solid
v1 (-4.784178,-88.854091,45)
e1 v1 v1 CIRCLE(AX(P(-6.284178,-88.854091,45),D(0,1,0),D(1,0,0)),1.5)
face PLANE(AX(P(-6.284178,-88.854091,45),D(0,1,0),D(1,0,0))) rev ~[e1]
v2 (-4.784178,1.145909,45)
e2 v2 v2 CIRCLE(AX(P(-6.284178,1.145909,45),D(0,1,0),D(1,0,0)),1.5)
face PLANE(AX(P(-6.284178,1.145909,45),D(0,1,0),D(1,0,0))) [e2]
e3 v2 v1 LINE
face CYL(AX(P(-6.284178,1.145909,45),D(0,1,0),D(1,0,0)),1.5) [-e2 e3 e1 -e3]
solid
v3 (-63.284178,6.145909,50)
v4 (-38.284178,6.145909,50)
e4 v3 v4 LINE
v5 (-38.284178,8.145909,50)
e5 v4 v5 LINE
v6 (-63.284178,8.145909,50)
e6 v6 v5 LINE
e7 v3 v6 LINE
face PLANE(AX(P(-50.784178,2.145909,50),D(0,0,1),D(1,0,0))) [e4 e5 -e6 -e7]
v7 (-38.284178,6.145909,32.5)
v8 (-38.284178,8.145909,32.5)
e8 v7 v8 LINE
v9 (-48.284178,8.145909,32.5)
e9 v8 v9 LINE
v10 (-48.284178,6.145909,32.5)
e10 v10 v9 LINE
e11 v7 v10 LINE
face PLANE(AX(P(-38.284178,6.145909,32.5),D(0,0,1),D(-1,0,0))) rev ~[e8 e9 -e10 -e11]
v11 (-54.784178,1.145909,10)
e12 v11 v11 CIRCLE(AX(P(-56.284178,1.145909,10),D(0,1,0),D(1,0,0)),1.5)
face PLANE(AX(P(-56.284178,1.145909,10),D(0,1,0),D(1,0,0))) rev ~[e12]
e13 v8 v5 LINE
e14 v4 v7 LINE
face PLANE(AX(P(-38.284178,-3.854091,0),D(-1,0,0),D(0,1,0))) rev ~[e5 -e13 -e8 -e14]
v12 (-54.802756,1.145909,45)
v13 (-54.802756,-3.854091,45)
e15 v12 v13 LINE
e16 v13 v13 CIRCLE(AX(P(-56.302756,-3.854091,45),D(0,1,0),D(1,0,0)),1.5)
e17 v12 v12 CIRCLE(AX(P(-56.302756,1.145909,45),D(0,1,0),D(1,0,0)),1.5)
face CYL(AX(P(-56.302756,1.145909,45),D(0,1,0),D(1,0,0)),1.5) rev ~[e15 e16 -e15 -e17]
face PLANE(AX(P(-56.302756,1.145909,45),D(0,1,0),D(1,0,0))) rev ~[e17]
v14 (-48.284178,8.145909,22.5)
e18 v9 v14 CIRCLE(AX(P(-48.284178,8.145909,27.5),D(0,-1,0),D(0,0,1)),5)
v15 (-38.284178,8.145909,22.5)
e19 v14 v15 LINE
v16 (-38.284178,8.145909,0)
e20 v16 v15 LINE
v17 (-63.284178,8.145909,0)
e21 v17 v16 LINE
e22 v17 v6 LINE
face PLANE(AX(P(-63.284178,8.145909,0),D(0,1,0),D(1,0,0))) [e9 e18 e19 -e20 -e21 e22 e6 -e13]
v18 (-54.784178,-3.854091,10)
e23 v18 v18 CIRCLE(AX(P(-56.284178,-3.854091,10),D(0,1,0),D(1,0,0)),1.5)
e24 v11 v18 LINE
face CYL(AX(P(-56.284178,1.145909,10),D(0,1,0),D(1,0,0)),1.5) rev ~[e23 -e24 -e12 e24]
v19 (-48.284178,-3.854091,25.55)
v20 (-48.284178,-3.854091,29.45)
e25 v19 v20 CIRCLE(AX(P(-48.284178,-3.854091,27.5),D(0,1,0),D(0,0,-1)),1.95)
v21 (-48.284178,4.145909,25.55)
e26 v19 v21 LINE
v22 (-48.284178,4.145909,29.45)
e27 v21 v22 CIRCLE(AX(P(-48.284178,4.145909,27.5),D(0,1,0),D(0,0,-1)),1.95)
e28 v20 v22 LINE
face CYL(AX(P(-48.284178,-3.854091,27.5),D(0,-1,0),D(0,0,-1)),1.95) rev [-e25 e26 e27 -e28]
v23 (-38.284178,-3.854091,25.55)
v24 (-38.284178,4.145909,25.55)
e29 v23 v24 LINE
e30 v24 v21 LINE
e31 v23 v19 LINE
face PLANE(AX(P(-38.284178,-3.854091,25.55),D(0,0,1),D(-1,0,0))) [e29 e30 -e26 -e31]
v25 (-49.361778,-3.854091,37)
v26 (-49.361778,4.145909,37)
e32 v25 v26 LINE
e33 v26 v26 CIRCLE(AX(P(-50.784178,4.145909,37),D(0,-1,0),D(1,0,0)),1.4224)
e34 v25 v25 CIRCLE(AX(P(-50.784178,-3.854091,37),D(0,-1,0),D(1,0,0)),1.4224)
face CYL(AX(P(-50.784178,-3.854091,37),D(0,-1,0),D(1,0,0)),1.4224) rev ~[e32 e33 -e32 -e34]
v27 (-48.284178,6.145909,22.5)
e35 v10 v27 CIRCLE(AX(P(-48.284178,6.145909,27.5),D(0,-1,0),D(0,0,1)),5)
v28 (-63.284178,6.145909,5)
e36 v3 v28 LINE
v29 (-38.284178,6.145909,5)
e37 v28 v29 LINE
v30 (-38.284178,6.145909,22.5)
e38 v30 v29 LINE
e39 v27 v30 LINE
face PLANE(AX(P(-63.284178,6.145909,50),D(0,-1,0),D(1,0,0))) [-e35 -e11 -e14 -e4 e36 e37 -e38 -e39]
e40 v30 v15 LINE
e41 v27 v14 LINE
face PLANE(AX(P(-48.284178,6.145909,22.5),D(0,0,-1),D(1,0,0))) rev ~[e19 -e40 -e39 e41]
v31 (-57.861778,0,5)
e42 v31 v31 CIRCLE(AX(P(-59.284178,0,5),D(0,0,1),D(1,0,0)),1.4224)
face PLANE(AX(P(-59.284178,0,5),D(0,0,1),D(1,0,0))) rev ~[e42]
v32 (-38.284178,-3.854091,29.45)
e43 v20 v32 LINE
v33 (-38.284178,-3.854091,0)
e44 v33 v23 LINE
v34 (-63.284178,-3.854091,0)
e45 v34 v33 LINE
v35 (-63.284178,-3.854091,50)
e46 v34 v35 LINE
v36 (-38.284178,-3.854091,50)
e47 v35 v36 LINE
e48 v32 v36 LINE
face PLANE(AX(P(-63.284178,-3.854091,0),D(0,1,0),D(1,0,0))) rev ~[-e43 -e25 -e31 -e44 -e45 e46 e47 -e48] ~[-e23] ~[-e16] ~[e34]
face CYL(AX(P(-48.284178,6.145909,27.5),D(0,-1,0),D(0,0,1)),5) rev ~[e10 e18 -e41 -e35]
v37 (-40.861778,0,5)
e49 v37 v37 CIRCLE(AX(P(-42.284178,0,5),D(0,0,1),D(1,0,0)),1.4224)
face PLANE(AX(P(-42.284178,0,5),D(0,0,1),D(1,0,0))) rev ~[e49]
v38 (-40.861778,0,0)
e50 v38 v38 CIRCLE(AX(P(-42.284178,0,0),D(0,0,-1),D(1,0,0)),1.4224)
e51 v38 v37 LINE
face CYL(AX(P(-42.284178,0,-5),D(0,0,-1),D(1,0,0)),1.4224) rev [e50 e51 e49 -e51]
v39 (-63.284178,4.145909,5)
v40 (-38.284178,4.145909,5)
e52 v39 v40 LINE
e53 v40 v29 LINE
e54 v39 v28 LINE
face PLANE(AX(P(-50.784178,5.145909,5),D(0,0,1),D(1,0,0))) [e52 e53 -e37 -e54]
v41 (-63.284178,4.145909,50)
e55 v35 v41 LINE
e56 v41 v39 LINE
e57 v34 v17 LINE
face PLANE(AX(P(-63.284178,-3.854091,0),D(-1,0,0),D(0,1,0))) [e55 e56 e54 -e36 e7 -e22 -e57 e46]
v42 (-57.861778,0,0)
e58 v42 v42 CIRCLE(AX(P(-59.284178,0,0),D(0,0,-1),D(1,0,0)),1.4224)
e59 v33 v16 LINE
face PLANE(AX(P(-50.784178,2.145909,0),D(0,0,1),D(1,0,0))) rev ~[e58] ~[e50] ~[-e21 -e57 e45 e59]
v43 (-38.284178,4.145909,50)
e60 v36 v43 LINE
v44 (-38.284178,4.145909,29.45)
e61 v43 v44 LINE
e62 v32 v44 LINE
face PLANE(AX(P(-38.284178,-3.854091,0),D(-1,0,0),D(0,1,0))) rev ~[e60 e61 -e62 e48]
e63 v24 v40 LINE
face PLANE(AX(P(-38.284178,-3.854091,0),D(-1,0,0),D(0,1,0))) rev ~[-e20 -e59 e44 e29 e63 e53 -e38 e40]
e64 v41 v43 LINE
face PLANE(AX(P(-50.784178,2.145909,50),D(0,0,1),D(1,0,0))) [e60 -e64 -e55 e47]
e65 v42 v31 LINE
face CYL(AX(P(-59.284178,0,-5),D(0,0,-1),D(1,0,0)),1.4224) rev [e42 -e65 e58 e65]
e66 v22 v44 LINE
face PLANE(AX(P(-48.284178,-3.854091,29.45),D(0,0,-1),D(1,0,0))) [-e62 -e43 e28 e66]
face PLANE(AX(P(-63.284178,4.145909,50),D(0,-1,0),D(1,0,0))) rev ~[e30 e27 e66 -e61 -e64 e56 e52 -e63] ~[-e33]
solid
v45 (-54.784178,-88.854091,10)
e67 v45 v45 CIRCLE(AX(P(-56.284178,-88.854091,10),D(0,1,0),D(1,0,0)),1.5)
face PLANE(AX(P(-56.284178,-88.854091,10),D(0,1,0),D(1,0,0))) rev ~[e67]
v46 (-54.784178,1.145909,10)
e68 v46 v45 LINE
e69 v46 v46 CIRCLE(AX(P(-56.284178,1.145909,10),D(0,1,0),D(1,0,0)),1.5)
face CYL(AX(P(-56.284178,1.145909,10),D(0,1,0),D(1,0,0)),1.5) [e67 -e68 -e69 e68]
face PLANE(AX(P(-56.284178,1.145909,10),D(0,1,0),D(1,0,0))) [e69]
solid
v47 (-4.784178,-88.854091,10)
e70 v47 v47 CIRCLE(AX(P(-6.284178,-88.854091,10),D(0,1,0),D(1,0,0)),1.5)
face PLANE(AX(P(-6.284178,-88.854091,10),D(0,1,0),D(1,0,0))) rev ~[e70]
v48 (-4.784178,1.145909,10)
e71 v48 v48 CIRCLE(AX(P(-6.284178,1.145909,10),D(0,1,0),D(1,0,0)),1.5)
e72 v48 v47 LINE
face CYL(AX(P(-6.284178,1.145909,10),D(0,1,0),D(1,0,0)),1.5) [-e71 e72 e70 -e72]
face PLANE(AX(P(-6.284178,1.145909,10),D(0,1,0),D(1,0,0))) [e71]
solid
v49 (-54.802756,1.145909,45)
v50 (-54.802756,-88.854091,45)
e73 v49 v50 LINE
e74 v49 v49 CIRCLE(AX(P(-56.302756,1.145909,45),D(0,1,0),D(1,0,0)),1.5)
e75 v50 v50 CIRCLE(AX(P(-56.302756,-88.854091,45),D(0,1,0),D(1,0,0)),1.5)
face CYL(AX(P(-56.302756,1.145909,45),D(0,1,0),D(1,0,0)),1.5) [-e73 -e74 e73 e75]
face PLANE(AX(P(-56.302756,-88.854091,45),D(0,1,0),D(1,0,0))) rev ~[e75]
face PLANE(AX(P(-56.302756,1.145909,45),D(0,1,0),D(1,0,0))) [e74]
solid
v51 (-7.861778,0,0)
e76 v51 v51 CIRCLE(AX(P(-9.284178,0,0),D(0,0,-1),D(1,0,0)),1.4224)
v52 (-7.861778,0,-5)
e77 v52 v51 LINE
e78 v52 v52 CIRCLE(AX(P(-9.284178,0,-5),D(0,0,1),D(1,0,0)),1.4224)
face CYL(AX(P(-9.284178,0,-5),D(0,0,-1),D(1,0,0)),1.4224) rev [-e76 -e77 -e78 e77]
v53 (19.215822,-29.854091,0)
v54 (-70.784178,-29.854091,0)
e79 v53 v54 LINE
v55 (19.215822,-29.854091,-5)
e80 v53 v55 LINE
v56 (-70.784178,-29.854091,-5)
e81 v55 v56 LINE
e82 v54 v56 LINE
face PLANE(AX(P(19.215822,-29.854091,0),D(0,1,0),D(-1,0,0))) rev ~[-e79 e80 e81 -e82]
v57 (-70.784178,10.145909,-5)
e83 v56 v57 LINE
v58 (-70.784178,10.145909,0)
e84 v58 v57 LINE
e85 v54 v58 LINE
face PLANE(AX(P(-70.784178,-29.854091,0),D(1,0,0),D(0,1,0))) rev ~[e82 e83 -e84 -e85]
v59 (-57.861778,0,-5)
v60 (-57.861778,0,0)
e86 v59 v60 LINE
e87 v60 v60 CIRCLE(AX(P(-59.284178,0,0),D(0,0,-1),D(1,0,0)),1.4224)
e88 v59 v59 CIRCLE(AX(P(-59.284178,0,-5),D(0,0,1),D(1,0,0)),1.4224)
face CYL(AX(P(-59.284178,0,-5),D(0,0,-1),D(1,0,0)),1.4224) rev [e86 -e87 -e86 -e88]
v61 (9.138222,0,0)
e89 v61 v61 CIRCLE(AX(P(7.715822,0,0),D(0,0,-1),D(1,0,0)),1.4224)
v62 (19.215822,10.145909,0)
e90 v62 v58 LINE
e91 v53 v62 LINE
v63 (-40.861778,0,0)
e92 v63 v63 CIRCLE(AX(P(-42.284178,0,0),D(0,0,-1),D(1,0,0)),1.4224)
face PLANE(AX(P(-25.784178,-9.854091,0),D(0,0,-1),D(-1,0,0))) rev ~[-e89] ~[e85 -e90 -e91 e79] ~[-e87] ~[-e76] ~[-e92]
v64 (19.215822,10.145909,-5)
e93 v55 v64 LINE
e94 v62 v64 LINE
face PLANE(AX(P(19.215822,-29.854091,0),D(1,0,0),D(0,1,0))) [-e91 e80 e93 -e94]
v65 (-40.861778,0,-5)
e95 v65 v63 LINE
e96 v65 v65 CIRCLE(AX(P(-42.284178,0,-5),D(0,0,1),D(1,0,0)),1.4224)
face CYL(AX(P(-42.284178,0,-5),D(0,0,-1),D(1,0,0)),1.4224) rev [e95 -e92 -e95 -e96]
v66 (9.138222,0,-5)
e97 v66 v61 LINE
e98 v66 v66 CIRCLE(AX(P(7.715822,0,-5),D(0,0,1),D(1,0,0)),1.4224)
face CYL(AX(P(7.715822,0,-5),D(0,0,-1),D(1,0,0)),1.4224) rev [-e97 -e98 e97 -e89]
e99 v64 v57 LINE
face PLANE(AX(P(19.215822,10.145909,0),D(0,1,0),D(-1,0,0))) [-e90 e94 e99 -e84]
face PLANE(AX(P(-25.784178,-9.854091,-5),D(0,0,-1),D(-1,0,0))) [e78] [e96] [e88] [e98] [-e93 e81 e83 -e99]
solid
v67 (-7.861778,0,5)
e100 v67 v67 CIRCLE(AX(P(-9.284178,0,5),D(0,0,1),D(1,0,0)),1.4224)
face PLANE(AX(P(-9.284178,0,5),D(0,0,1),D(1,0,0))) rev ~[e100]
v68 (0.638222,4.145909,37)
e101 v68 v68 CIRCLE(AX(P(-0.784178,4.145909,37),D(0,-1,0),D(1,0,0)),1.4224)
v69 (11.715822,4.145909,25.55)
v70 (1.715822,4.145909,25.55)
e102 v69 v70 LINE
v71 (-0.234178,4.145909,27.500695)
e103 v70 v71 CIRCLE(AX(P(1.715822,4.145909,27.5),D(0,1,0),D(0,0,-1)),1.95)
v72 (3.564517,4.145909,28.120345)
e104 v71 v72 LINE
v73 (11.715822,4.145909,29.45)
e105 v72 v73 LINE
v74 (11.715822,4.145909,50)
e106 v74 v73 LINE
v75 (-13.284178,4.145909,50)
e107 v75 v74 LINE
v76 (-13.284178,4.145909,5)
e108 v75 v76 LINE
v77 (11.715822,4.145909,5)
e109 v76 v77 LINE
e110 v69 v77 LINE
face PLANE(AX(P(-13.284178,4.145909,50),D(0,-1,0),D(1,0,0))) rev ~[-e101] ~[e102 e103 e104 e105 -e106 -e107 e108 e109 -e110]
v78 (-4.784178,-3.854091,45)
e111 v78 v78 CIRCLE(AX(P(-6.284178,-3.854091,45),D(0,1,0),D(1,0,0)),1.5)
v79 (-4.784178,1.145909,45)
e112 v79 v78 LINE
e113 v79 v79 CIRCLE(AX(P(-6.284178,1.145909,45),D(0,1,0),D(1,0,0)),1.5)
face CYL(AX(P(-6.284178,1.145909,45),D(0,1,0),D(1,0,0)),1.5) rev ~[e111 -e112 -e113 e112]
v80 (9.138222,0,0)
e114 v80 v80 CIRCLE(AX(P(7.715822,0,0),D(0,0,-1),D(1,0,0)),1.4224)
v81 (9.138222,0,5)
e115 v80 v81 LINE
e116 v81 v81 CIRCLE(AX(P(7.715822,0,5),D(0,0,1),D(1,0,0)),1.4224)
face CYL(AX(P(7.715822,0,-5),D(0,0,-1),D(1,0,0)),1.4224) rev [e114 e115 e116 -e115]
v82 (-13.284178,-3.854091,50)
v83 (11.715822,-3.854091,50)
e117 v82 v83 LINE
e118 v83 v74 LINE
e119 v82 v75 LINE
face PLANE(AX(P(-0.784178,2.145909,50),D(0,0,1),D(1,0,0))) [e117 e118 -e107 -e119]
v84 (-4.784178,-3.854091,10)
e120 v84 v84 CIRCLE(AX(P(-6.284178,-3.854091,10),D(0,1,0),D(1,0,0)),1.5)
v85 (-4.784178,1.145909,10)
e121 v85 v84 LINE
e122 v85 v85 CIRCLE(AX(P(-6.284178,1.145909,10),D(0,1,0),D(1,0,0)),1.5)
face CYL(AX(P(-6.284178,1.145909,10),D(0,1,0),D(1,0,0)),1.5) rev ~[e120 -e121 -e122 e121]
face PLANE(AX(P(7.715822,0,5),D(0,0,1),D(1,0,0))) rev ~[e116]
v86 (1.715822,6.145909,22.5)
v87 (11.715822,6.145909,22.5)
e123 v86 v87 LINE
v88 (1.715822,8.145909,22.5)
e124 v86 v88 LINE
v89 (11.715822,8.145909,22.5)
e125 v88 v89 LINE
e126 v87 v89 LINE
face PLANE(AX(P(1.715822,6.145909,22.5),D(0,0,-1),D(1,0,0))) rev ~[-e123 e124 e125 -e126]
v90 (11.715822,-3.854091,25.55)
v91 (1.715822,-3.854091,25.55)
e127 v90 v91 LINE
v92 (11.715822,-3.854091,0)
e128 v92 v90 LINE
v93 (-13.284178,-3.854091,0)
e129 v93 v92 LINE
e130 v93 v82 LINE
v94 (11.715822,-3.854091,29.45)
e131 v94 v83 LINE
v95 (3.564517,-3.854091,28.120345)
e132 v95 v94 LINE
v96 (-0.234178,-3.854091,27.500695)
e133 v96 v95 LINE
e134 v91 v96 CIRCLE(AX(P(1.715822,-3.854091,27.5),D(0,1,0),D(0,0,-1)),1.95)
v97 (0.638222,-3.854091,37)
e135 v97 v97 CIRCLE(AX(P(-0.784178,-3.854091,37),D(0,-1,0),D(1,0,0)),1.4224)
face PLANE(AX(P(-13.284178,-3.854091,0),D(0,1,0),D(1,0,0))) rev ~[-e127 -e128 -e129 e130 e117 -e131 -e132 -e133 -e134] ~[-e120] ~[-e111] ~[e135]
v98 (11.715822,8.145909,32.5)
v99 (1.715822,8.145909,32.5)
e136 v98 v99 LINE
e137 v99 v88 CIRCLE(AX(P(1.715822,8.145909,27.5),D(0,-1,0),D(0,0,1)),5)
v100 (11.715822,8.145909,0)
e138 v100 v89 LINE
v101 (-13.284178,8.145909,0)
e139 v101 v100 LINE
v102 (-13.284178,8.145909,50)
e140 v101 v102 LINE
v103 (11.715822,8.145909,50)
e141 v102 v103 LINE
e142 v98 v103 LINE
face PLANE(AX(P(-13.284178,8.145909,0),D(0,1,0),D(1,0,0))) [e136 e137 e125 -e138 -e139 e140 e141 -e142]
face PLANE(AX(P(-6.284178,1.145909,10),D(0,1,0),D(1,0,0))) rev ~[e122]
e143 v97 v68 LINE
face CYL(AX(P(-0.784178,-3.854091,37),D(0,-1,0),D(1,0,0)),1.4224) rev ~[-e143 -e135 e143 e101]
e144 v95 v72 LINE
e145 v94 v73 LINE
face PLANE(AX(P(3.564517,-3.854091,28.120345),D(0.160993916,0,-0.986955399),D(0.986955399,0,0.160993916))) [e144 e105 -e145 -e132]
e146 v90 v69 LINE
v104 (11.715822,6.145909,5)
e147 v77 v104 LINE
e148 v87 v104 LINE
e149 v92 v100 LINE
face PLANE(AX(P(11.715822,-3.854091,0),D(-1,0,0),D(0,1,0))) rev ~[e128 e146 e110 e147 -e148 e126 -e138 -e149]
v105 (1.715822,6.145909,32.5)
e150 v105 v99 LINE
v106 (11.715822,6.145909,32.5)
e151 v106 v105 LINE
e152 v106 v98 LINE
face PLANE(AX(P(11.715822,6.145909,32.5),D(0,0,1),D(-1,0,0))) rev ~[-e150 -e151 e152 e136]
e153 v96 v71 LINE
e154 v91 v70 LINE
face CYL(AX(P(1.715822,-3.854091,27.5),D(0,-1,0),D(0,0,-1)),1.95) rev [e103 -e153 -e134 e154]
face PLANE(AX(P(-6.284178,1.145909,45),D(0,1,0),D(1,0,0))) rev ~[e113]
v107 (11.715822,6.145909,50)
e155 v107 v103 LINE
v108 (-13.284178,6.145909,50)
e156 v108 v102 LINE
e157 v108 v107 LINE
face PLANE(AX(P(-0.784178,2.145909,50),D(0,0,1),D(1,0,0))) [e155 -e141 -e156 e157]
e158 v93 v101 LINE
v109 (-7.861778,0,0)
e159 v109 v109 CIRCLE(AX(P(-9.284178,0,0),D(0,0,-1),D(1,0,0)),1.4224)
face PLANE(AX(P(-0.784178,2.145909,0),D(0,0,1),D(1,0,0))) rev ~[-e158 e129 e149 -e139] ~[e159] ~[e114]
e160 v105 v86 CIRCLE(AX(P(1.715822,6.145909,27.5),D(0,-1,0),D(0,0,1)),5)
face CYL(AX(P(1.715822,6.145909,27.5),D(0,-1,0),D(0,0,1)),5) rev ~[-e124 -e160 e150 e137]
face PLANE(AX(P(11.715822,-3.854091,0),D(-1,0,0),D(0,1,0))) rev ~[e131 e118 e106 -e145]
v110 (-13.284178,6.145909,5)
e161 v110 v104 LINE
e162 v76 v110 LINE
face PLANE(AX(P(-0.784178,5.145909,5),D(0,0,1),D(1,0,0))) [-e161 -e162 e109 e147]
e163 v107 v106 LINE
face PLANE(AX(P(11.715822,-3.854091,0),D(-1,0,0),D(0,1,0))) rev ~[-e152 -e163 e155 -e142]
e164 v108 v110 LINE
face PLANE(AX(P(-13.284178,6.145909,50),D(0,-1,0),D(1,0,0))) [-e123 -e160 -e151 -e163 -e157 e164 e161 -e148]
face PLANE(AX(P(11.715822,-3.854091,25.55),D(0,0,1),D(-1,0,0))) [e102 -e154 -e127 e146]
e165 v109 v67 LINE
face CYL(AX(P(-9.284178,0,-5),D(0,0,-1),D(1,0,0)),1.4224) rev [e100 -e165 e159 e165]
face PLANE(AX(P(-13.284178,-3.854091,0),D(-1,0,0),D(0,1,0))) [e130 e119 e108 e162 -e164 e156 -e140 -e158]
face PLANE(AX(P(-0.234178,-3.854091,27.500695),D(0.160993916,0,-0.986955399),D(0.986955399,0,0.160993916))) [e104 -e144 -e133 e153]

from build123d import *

# Parameters (mm, degrees)
SKETCH1_W             = 25
SKETCH1_H             = 12
BOSS_EXTRUDE1_DEPTH   = 50
SKETCH2_W             = 25
SKETCH2_H             = 2
CUT_EXTRUDE1_DEPTH    = 45
SKETCH4_R             = 1.4224
CUT_EXTRUDE2_DEPTH    = 8
CUT_EXTRUDE3_DEPTH    = 2
LPATTERN1_COUNT       = 2
LPATTERN1_PITCH       = 50
SKETCH7_W             = 90
SKETCH7_H             = 40
BOSS_EXTRUDE2_DEPTH   = 5
CUT_EXTRUDE4_START    = -55
SKETCH8_R             = 1.4224
CUT_EXTRUDE4_DEPTH    = 10
CUT_EXTRUDE5_START    = -55
SKETCH9_R             = 1.4224
CUT_EXTRUDE5_DEPTH    = 10
BOSS_EXTRUDE3_START   = -7
SKETCH10_R            = 1.5
BOSS_EXTRUDE3_DEPTH   = 90
BOSS_EXTRUDE3_2_DEPTH = 90
CUT_EXTRUDE6_START    = -7
SKETCH10_3_R          = 1.5
CUT_EXTRUDE6_DEPTH    = 5
BOSS_EXTRUDE4_START   = -7
SKETCH11_R            = 1.5
BOSS_EXTRUDE4_DEPTH   = 90
BOSS_EXTRUDE4_2_DEPTH = 90
CUT_EXTRUDE7_START    = -7
SKETCH11_5_R          = 1.5
CUT_EXTRUDE7_DEPTH    = 5
CUT_EXTRUDE8_START    = -12
CUT_EXTRUDE8_DEPTH    = 8
CUT_EXTRUDE9_START    = -12
CUT_EXTRUDE9_DEPTH    = 8


with BuildPart() as part:
    # Sketch1 → Boss-Extrude1 (new body)
    with BuildSketch(Plane.XY):
        with Locations((-50.784177629, 2.145908792)):
            Rectangle(SKETCH1_W, SKETCH1_H)
    extrude(amount=BOSS_EXTRUDE1_DEPTH)

    # Sketch2 → Cut-Extrude1 (cut)
    with BuildSketch(Plane.XY.offset(50)):
        with Locations((-50.784177629, 5.145908792)):
            Rectangle(SKETCH2_W, SKETCH2_H)
    extrude(amount=-CUT_EXTRUDE1_DEPTH, mode=Mode.SUBTRACT)

    # Sketch4 → Cut-Extrude2 (cut)
    with BuildSketch(Plane.XZ.offset(3.854091208)):
        with Locations((-50.784177629, 37)):
            Circle(SKETCH4_R)
    extrude(amount=-CUT_EXTRUDE2_DEPTH, mode=Mode.SUBTRACT)

    # Sketch6 → Cut-Extrude3 (cut)
    with BuildSketch(Plane.XZ.offset(-6.145908792)):
        with BuildLine():
            Line((-38.284177629, 32.5), (-48.284177629, 32.5))
            ThreePointArc((-48.284177629, 32.5), (-44.748643723, 31.035533906), (-43.284177629, 27.5))
            ThreePointArc((-43.284177629, 27.5), (-44.748643723, 23.964466094), (-48.284177629, 22.5))
            Line((-48.284177629, 22.5), (-38.284177629, 22.5))
            Line((-38.284177629, 22.5), (-38.284177629, 32.5))
        make_face()
        with BuildLine():
            ThreePointArc((-43.284177629, 27.5), (-44.748643723, 31.035533906), (-48.284177629, 32.5))
            Line((-48.284177629, 32.5), (-48.284177629, 22.5))
            ThreePointArc((-48.284177629, 22.5), (-44.748643723, 23.964466094), (-43.284177629, 27.5))
        make_face()
        with BuildLine():
            Line((-48.284177629, 22.5), (-48.284177629, 32.5))
            ThreePointArc((-48.284177629, 32.5), (-53.284177629, 27.5), (-48.284177629, 22.5))
        make_face()
    extrude(amount=-CUT_EXTRUDE3_DEPTH, mode=Mode.SUBTRACT)


with BuildPart() as lpattern1_1:
    # LPattern1: pattern copy
    add(part.part.moved(Location(Vector(1, 0, 0) * (1 * LPATTERN1_PITCH))))


with BuildPart() as body_3:
    # Sketch7 → Boss-Extrude2 (new body)
    with BuildSketch(Plane(origin=(0, 0, 0), x_dir=(-1, 0, 0), z_dir=(0, 0, -1))):
        with Locations((25.784177629, -9.854091208)):
            Rectangle(SKETCH7_W, SKETCH7_H)
    extrude(amount=BOSS_EXTRUDE2_DEPTH)


with BuildPart() as cut_extrude4_tool:
    # Sketch8 → Cut-Extrude4 (new body)
    with BuildSketch(Plane.XY.offset(50).offset(CUT_EXTRUDE4_START)):
        with Locations((-59.284177629, 0)):
            Circle(SKETCH8_R)
        with Locations((-42.284177629, 0)):
            Circle(SKETCH8_R)
    extrude(amount=CUT_EXTRUDE4_DEPTH)


with BuildPart() as part_1:
    add(part.part)

    # Cut-Extrude4: cut by cut_extrude4_tool
    add(cut_extrude4_tool.part, mode=Mode.SUBTRACT)

    # Sketch10<3> → Cut-Extrude6 (cut)
    with BuildSketch(Plane(origin=(0, 8.145908792, 0), x_dir=(1, 0, 0), z_dir=(0, 1, 0)).offset(CUT_EXTRUDE6_START)):
        with Locations((-56.284177629, -10)):
            Circle(SKETCH10_3_R)
        with Locations((-56.302755809, -45)):
            Circle(SKETCH10_3_R)
    extrude(amount=-CUT_EXTRUDE6_DEPTH, mode=Mode.SUBTRACT)

    # Sketch12 → Cut-Extrude8 (cut)
    with BuildSketch(Plane(origin=(0, 8.145908792, 0), x_dir=(1, 0, 0), z_dir=(0, 1, 0)).offset(CUT_EXTRUDE8_START)):
        with BuildLine():
            Line((-38.284177629, -25.55), (-48.284177629, -25.55))
            ThreePointArc((-48.284177629, -25.55), (-46.905319405, -26.121141777), (-46.334177629, -27.5))
            ThreePointArc((-46.334177629, -27.5), (-46.905319405, -28.878858223), (-48.284177629, -29.45))
            Line((-48.284177629, -29.45), (-38.284177629, -29.45))
            Line((-38.284177629, -29.45), (-38.284177629, -25.55))
        make_face()
        with BuildLine():
            ThreePointArc((-46.334177629, -27.5), (-46.905319405, -26.121141777), (-48.284177629, -25.55))
            Line((-48.284177629, -25.55), (-48.284177629, -29.45))
            ThreePointArc((-48.284177629, -29.45), (-46.905319405, -28.878858223), (-46.334177629, -27.5))
        make_face()
        with BuildLine():
            Line((-48.284177629, -29.45), (-48.284177629, -25.55))
            ThreePointArc((-48.284177629, -25.55), (-50.234177629, -27.5), (-48.284177629, -29.45))
        make_face()
    extrude(amount=CUT_EXTRUDE8_DEPTH, mode=Mode.SUBTRACT)


with BuildPart() as body_3_1:
    add(body_3.part)

    # Cut-Extrude4: cut by cut_extrude4_tool
    add(cut_extrude4_tool.part, mode=Mode.SUBTRACT)


with BuildPart() as cut_extrude5_tool:
    # Sketch9 → Cut-Extrude5 (new body)
    with BuildSketch(Plane.XY.offset(50).offset(CUT_EXTRUDE5_START)):
        with Locations((-9.284177629, 0)):
            Circle(SKETCH9_R)
        with Locations((7.715822371, 0)):
            Circle(SKETCH9_R)
    extrude(amount=CUT_EXTRUDE5_DEPTH)


with BuildPart() as lpattern1_1_1:
    add(lpattern1_1.part)

    # Cut-Extrude5: cut by cut_extrude5_tool
    add(cut_extrude5_tool.part, mode=Mode.SUBTRACT)

    # Sketch11<5> → Cut-Extrude7 (cut)
    with BuildSketch(Plane(origin=(0, 8.145908792, 0), x_dir=(1, 0, 0), z_dir=(0, 1, 0)).offset(CUT_EXTRUDE7_START)):
        with Locations((-6.284177629, -10)):
            Circle(SKETCH11_5_R)
        with Locations((-6.284177629, -45)):
            Circle(SKETCH11_5_R)
    extrude(amount=-CUT_EXTRUDE7_DEPTH, mode=Mode.SUBTRACT)

    # Sketch13 → Cut-Extrude9 (cut)
    with BuildSketch(Plane(origin=(0, 8.145908792, 0), x_dir=(1, 0, 0), z_dir=(0, 1, 0)).offset(CUT_EXTRUDE9_START)):
        with BuildLine():
            Line((11.715822371, -25.55), (1.715822371, -25.55))
            ThreePointArc((1.715822371, -25.55), (3.094680595, -26.121141777), (3.665822371, -27.5))
            ThreePointArc((3.665822371, -27.5), (3.640329438, -27.814281006), (3.564517191, -28.120344633))
            Line((3.564517191, -28.120344633), (11.715822371, -29.45))
            Line((11.715822371, -29.45), (11.715822371, -25.55))
        make_face()
        with BuildLine():
            ThreePointArc((3.665822371, -27.5), (3.094680595, -26.121141777), (1.715822371, -25.55))
            Line((1.715822371, -25.55), (-0.234177505, -27.500694813))
            Line((-0.234177505, -27.500694813), (3.564517191, -28.120344633))
            ThreePointArc((3.564517191, -28.120344633), (3.640329438, -27.814281006), (3.665822371, -27.5))
        make_face()
        with BuildLine():
            Line((-0.234177505, -27.500694813), (1.715822371, -25.55))
            ThreePointArc((1.715822371, -25.55), (0.336718516, -26.121387452), (-0.234177505, -27.500694813))
        make_face()
    extrude(amount=CUT_EXTRUDE9_DEPTH, mode=Mode.SUBTRACT)


with BuildPart() as body_3_2:
    add(body_3_1.part)

    # Cut-Extrude5: cut by cut_extrude5_tool
    add(cut_extrude5_tool.part, mode=Mode.SUBTRACT)


with BuildPart() as body_4:
    # Sketch10 → Boss-Extrude3 (new body)
    with BuildSketch(Plane(origin=(0, 8.145908792, 0), x_dir=(1, 0, 0), z_dir=(0, 1, 0)).offset(BOSS_EXTRUDE3_START)):
        with Locations((-56.284177629, -10)):
            Circle(SKETCH10_R)
    extrude(amount=-BOSS_EXTRUDE3_DEPTH)


with BuildPart() as body_5:
    # Sketch10 → Boss-Extrude3 2 (new body)
    with BuildSketch(Plane(origin=(0, 8.145908792, 0), x_dir=(1, 0, 0), z_dir=(0, 1, 0)).offset(BOSS_EXTRUDE3_START)):
        with Locations((-56.302755809, -45)):
            Circle(SKETCH10_R)
    extrude(amount=-BOSS_EXTRUDE3_2_DEPTH)


with BuildPart() as body_6:
    # Sketch11 → Boss-Extrude4 (new body)
    with BuildSketch(Plane(origin=(0, 8.145908792, 0), x_dir=(1, 0, 0), z_dir=(0, 1, 0)).offset(BOSS_EXTRUDE4_START)):
        with Locations((-6.284177629, -10)):
            Circle(SKETCH11_R)
    extrude(amount=-BOSS_EXTRUDE4_DEPTH)


with BuildPart() as body_7:
    # Sketch11 → Boss-Extrude4 2 (new body)
    with BuildSketch(Plane(origin=(0, 8.145908792, 0), x_dir=(1, 0, 0), z_dir=(0, 1, 0)).offset(BOSS_EXTRUDE4_START)):
        with Locations((-6.284177629, -45)):
            Circle(SKETCH11_R)
    extrude(amount=-BOSS_EXTRUDE4_2_DEPTH)


solid = Compound([part_1.part, lpattern1_1_1.part, body_3_2.part, body_4.part, body_5.part, body_6.part, body_7.part])
